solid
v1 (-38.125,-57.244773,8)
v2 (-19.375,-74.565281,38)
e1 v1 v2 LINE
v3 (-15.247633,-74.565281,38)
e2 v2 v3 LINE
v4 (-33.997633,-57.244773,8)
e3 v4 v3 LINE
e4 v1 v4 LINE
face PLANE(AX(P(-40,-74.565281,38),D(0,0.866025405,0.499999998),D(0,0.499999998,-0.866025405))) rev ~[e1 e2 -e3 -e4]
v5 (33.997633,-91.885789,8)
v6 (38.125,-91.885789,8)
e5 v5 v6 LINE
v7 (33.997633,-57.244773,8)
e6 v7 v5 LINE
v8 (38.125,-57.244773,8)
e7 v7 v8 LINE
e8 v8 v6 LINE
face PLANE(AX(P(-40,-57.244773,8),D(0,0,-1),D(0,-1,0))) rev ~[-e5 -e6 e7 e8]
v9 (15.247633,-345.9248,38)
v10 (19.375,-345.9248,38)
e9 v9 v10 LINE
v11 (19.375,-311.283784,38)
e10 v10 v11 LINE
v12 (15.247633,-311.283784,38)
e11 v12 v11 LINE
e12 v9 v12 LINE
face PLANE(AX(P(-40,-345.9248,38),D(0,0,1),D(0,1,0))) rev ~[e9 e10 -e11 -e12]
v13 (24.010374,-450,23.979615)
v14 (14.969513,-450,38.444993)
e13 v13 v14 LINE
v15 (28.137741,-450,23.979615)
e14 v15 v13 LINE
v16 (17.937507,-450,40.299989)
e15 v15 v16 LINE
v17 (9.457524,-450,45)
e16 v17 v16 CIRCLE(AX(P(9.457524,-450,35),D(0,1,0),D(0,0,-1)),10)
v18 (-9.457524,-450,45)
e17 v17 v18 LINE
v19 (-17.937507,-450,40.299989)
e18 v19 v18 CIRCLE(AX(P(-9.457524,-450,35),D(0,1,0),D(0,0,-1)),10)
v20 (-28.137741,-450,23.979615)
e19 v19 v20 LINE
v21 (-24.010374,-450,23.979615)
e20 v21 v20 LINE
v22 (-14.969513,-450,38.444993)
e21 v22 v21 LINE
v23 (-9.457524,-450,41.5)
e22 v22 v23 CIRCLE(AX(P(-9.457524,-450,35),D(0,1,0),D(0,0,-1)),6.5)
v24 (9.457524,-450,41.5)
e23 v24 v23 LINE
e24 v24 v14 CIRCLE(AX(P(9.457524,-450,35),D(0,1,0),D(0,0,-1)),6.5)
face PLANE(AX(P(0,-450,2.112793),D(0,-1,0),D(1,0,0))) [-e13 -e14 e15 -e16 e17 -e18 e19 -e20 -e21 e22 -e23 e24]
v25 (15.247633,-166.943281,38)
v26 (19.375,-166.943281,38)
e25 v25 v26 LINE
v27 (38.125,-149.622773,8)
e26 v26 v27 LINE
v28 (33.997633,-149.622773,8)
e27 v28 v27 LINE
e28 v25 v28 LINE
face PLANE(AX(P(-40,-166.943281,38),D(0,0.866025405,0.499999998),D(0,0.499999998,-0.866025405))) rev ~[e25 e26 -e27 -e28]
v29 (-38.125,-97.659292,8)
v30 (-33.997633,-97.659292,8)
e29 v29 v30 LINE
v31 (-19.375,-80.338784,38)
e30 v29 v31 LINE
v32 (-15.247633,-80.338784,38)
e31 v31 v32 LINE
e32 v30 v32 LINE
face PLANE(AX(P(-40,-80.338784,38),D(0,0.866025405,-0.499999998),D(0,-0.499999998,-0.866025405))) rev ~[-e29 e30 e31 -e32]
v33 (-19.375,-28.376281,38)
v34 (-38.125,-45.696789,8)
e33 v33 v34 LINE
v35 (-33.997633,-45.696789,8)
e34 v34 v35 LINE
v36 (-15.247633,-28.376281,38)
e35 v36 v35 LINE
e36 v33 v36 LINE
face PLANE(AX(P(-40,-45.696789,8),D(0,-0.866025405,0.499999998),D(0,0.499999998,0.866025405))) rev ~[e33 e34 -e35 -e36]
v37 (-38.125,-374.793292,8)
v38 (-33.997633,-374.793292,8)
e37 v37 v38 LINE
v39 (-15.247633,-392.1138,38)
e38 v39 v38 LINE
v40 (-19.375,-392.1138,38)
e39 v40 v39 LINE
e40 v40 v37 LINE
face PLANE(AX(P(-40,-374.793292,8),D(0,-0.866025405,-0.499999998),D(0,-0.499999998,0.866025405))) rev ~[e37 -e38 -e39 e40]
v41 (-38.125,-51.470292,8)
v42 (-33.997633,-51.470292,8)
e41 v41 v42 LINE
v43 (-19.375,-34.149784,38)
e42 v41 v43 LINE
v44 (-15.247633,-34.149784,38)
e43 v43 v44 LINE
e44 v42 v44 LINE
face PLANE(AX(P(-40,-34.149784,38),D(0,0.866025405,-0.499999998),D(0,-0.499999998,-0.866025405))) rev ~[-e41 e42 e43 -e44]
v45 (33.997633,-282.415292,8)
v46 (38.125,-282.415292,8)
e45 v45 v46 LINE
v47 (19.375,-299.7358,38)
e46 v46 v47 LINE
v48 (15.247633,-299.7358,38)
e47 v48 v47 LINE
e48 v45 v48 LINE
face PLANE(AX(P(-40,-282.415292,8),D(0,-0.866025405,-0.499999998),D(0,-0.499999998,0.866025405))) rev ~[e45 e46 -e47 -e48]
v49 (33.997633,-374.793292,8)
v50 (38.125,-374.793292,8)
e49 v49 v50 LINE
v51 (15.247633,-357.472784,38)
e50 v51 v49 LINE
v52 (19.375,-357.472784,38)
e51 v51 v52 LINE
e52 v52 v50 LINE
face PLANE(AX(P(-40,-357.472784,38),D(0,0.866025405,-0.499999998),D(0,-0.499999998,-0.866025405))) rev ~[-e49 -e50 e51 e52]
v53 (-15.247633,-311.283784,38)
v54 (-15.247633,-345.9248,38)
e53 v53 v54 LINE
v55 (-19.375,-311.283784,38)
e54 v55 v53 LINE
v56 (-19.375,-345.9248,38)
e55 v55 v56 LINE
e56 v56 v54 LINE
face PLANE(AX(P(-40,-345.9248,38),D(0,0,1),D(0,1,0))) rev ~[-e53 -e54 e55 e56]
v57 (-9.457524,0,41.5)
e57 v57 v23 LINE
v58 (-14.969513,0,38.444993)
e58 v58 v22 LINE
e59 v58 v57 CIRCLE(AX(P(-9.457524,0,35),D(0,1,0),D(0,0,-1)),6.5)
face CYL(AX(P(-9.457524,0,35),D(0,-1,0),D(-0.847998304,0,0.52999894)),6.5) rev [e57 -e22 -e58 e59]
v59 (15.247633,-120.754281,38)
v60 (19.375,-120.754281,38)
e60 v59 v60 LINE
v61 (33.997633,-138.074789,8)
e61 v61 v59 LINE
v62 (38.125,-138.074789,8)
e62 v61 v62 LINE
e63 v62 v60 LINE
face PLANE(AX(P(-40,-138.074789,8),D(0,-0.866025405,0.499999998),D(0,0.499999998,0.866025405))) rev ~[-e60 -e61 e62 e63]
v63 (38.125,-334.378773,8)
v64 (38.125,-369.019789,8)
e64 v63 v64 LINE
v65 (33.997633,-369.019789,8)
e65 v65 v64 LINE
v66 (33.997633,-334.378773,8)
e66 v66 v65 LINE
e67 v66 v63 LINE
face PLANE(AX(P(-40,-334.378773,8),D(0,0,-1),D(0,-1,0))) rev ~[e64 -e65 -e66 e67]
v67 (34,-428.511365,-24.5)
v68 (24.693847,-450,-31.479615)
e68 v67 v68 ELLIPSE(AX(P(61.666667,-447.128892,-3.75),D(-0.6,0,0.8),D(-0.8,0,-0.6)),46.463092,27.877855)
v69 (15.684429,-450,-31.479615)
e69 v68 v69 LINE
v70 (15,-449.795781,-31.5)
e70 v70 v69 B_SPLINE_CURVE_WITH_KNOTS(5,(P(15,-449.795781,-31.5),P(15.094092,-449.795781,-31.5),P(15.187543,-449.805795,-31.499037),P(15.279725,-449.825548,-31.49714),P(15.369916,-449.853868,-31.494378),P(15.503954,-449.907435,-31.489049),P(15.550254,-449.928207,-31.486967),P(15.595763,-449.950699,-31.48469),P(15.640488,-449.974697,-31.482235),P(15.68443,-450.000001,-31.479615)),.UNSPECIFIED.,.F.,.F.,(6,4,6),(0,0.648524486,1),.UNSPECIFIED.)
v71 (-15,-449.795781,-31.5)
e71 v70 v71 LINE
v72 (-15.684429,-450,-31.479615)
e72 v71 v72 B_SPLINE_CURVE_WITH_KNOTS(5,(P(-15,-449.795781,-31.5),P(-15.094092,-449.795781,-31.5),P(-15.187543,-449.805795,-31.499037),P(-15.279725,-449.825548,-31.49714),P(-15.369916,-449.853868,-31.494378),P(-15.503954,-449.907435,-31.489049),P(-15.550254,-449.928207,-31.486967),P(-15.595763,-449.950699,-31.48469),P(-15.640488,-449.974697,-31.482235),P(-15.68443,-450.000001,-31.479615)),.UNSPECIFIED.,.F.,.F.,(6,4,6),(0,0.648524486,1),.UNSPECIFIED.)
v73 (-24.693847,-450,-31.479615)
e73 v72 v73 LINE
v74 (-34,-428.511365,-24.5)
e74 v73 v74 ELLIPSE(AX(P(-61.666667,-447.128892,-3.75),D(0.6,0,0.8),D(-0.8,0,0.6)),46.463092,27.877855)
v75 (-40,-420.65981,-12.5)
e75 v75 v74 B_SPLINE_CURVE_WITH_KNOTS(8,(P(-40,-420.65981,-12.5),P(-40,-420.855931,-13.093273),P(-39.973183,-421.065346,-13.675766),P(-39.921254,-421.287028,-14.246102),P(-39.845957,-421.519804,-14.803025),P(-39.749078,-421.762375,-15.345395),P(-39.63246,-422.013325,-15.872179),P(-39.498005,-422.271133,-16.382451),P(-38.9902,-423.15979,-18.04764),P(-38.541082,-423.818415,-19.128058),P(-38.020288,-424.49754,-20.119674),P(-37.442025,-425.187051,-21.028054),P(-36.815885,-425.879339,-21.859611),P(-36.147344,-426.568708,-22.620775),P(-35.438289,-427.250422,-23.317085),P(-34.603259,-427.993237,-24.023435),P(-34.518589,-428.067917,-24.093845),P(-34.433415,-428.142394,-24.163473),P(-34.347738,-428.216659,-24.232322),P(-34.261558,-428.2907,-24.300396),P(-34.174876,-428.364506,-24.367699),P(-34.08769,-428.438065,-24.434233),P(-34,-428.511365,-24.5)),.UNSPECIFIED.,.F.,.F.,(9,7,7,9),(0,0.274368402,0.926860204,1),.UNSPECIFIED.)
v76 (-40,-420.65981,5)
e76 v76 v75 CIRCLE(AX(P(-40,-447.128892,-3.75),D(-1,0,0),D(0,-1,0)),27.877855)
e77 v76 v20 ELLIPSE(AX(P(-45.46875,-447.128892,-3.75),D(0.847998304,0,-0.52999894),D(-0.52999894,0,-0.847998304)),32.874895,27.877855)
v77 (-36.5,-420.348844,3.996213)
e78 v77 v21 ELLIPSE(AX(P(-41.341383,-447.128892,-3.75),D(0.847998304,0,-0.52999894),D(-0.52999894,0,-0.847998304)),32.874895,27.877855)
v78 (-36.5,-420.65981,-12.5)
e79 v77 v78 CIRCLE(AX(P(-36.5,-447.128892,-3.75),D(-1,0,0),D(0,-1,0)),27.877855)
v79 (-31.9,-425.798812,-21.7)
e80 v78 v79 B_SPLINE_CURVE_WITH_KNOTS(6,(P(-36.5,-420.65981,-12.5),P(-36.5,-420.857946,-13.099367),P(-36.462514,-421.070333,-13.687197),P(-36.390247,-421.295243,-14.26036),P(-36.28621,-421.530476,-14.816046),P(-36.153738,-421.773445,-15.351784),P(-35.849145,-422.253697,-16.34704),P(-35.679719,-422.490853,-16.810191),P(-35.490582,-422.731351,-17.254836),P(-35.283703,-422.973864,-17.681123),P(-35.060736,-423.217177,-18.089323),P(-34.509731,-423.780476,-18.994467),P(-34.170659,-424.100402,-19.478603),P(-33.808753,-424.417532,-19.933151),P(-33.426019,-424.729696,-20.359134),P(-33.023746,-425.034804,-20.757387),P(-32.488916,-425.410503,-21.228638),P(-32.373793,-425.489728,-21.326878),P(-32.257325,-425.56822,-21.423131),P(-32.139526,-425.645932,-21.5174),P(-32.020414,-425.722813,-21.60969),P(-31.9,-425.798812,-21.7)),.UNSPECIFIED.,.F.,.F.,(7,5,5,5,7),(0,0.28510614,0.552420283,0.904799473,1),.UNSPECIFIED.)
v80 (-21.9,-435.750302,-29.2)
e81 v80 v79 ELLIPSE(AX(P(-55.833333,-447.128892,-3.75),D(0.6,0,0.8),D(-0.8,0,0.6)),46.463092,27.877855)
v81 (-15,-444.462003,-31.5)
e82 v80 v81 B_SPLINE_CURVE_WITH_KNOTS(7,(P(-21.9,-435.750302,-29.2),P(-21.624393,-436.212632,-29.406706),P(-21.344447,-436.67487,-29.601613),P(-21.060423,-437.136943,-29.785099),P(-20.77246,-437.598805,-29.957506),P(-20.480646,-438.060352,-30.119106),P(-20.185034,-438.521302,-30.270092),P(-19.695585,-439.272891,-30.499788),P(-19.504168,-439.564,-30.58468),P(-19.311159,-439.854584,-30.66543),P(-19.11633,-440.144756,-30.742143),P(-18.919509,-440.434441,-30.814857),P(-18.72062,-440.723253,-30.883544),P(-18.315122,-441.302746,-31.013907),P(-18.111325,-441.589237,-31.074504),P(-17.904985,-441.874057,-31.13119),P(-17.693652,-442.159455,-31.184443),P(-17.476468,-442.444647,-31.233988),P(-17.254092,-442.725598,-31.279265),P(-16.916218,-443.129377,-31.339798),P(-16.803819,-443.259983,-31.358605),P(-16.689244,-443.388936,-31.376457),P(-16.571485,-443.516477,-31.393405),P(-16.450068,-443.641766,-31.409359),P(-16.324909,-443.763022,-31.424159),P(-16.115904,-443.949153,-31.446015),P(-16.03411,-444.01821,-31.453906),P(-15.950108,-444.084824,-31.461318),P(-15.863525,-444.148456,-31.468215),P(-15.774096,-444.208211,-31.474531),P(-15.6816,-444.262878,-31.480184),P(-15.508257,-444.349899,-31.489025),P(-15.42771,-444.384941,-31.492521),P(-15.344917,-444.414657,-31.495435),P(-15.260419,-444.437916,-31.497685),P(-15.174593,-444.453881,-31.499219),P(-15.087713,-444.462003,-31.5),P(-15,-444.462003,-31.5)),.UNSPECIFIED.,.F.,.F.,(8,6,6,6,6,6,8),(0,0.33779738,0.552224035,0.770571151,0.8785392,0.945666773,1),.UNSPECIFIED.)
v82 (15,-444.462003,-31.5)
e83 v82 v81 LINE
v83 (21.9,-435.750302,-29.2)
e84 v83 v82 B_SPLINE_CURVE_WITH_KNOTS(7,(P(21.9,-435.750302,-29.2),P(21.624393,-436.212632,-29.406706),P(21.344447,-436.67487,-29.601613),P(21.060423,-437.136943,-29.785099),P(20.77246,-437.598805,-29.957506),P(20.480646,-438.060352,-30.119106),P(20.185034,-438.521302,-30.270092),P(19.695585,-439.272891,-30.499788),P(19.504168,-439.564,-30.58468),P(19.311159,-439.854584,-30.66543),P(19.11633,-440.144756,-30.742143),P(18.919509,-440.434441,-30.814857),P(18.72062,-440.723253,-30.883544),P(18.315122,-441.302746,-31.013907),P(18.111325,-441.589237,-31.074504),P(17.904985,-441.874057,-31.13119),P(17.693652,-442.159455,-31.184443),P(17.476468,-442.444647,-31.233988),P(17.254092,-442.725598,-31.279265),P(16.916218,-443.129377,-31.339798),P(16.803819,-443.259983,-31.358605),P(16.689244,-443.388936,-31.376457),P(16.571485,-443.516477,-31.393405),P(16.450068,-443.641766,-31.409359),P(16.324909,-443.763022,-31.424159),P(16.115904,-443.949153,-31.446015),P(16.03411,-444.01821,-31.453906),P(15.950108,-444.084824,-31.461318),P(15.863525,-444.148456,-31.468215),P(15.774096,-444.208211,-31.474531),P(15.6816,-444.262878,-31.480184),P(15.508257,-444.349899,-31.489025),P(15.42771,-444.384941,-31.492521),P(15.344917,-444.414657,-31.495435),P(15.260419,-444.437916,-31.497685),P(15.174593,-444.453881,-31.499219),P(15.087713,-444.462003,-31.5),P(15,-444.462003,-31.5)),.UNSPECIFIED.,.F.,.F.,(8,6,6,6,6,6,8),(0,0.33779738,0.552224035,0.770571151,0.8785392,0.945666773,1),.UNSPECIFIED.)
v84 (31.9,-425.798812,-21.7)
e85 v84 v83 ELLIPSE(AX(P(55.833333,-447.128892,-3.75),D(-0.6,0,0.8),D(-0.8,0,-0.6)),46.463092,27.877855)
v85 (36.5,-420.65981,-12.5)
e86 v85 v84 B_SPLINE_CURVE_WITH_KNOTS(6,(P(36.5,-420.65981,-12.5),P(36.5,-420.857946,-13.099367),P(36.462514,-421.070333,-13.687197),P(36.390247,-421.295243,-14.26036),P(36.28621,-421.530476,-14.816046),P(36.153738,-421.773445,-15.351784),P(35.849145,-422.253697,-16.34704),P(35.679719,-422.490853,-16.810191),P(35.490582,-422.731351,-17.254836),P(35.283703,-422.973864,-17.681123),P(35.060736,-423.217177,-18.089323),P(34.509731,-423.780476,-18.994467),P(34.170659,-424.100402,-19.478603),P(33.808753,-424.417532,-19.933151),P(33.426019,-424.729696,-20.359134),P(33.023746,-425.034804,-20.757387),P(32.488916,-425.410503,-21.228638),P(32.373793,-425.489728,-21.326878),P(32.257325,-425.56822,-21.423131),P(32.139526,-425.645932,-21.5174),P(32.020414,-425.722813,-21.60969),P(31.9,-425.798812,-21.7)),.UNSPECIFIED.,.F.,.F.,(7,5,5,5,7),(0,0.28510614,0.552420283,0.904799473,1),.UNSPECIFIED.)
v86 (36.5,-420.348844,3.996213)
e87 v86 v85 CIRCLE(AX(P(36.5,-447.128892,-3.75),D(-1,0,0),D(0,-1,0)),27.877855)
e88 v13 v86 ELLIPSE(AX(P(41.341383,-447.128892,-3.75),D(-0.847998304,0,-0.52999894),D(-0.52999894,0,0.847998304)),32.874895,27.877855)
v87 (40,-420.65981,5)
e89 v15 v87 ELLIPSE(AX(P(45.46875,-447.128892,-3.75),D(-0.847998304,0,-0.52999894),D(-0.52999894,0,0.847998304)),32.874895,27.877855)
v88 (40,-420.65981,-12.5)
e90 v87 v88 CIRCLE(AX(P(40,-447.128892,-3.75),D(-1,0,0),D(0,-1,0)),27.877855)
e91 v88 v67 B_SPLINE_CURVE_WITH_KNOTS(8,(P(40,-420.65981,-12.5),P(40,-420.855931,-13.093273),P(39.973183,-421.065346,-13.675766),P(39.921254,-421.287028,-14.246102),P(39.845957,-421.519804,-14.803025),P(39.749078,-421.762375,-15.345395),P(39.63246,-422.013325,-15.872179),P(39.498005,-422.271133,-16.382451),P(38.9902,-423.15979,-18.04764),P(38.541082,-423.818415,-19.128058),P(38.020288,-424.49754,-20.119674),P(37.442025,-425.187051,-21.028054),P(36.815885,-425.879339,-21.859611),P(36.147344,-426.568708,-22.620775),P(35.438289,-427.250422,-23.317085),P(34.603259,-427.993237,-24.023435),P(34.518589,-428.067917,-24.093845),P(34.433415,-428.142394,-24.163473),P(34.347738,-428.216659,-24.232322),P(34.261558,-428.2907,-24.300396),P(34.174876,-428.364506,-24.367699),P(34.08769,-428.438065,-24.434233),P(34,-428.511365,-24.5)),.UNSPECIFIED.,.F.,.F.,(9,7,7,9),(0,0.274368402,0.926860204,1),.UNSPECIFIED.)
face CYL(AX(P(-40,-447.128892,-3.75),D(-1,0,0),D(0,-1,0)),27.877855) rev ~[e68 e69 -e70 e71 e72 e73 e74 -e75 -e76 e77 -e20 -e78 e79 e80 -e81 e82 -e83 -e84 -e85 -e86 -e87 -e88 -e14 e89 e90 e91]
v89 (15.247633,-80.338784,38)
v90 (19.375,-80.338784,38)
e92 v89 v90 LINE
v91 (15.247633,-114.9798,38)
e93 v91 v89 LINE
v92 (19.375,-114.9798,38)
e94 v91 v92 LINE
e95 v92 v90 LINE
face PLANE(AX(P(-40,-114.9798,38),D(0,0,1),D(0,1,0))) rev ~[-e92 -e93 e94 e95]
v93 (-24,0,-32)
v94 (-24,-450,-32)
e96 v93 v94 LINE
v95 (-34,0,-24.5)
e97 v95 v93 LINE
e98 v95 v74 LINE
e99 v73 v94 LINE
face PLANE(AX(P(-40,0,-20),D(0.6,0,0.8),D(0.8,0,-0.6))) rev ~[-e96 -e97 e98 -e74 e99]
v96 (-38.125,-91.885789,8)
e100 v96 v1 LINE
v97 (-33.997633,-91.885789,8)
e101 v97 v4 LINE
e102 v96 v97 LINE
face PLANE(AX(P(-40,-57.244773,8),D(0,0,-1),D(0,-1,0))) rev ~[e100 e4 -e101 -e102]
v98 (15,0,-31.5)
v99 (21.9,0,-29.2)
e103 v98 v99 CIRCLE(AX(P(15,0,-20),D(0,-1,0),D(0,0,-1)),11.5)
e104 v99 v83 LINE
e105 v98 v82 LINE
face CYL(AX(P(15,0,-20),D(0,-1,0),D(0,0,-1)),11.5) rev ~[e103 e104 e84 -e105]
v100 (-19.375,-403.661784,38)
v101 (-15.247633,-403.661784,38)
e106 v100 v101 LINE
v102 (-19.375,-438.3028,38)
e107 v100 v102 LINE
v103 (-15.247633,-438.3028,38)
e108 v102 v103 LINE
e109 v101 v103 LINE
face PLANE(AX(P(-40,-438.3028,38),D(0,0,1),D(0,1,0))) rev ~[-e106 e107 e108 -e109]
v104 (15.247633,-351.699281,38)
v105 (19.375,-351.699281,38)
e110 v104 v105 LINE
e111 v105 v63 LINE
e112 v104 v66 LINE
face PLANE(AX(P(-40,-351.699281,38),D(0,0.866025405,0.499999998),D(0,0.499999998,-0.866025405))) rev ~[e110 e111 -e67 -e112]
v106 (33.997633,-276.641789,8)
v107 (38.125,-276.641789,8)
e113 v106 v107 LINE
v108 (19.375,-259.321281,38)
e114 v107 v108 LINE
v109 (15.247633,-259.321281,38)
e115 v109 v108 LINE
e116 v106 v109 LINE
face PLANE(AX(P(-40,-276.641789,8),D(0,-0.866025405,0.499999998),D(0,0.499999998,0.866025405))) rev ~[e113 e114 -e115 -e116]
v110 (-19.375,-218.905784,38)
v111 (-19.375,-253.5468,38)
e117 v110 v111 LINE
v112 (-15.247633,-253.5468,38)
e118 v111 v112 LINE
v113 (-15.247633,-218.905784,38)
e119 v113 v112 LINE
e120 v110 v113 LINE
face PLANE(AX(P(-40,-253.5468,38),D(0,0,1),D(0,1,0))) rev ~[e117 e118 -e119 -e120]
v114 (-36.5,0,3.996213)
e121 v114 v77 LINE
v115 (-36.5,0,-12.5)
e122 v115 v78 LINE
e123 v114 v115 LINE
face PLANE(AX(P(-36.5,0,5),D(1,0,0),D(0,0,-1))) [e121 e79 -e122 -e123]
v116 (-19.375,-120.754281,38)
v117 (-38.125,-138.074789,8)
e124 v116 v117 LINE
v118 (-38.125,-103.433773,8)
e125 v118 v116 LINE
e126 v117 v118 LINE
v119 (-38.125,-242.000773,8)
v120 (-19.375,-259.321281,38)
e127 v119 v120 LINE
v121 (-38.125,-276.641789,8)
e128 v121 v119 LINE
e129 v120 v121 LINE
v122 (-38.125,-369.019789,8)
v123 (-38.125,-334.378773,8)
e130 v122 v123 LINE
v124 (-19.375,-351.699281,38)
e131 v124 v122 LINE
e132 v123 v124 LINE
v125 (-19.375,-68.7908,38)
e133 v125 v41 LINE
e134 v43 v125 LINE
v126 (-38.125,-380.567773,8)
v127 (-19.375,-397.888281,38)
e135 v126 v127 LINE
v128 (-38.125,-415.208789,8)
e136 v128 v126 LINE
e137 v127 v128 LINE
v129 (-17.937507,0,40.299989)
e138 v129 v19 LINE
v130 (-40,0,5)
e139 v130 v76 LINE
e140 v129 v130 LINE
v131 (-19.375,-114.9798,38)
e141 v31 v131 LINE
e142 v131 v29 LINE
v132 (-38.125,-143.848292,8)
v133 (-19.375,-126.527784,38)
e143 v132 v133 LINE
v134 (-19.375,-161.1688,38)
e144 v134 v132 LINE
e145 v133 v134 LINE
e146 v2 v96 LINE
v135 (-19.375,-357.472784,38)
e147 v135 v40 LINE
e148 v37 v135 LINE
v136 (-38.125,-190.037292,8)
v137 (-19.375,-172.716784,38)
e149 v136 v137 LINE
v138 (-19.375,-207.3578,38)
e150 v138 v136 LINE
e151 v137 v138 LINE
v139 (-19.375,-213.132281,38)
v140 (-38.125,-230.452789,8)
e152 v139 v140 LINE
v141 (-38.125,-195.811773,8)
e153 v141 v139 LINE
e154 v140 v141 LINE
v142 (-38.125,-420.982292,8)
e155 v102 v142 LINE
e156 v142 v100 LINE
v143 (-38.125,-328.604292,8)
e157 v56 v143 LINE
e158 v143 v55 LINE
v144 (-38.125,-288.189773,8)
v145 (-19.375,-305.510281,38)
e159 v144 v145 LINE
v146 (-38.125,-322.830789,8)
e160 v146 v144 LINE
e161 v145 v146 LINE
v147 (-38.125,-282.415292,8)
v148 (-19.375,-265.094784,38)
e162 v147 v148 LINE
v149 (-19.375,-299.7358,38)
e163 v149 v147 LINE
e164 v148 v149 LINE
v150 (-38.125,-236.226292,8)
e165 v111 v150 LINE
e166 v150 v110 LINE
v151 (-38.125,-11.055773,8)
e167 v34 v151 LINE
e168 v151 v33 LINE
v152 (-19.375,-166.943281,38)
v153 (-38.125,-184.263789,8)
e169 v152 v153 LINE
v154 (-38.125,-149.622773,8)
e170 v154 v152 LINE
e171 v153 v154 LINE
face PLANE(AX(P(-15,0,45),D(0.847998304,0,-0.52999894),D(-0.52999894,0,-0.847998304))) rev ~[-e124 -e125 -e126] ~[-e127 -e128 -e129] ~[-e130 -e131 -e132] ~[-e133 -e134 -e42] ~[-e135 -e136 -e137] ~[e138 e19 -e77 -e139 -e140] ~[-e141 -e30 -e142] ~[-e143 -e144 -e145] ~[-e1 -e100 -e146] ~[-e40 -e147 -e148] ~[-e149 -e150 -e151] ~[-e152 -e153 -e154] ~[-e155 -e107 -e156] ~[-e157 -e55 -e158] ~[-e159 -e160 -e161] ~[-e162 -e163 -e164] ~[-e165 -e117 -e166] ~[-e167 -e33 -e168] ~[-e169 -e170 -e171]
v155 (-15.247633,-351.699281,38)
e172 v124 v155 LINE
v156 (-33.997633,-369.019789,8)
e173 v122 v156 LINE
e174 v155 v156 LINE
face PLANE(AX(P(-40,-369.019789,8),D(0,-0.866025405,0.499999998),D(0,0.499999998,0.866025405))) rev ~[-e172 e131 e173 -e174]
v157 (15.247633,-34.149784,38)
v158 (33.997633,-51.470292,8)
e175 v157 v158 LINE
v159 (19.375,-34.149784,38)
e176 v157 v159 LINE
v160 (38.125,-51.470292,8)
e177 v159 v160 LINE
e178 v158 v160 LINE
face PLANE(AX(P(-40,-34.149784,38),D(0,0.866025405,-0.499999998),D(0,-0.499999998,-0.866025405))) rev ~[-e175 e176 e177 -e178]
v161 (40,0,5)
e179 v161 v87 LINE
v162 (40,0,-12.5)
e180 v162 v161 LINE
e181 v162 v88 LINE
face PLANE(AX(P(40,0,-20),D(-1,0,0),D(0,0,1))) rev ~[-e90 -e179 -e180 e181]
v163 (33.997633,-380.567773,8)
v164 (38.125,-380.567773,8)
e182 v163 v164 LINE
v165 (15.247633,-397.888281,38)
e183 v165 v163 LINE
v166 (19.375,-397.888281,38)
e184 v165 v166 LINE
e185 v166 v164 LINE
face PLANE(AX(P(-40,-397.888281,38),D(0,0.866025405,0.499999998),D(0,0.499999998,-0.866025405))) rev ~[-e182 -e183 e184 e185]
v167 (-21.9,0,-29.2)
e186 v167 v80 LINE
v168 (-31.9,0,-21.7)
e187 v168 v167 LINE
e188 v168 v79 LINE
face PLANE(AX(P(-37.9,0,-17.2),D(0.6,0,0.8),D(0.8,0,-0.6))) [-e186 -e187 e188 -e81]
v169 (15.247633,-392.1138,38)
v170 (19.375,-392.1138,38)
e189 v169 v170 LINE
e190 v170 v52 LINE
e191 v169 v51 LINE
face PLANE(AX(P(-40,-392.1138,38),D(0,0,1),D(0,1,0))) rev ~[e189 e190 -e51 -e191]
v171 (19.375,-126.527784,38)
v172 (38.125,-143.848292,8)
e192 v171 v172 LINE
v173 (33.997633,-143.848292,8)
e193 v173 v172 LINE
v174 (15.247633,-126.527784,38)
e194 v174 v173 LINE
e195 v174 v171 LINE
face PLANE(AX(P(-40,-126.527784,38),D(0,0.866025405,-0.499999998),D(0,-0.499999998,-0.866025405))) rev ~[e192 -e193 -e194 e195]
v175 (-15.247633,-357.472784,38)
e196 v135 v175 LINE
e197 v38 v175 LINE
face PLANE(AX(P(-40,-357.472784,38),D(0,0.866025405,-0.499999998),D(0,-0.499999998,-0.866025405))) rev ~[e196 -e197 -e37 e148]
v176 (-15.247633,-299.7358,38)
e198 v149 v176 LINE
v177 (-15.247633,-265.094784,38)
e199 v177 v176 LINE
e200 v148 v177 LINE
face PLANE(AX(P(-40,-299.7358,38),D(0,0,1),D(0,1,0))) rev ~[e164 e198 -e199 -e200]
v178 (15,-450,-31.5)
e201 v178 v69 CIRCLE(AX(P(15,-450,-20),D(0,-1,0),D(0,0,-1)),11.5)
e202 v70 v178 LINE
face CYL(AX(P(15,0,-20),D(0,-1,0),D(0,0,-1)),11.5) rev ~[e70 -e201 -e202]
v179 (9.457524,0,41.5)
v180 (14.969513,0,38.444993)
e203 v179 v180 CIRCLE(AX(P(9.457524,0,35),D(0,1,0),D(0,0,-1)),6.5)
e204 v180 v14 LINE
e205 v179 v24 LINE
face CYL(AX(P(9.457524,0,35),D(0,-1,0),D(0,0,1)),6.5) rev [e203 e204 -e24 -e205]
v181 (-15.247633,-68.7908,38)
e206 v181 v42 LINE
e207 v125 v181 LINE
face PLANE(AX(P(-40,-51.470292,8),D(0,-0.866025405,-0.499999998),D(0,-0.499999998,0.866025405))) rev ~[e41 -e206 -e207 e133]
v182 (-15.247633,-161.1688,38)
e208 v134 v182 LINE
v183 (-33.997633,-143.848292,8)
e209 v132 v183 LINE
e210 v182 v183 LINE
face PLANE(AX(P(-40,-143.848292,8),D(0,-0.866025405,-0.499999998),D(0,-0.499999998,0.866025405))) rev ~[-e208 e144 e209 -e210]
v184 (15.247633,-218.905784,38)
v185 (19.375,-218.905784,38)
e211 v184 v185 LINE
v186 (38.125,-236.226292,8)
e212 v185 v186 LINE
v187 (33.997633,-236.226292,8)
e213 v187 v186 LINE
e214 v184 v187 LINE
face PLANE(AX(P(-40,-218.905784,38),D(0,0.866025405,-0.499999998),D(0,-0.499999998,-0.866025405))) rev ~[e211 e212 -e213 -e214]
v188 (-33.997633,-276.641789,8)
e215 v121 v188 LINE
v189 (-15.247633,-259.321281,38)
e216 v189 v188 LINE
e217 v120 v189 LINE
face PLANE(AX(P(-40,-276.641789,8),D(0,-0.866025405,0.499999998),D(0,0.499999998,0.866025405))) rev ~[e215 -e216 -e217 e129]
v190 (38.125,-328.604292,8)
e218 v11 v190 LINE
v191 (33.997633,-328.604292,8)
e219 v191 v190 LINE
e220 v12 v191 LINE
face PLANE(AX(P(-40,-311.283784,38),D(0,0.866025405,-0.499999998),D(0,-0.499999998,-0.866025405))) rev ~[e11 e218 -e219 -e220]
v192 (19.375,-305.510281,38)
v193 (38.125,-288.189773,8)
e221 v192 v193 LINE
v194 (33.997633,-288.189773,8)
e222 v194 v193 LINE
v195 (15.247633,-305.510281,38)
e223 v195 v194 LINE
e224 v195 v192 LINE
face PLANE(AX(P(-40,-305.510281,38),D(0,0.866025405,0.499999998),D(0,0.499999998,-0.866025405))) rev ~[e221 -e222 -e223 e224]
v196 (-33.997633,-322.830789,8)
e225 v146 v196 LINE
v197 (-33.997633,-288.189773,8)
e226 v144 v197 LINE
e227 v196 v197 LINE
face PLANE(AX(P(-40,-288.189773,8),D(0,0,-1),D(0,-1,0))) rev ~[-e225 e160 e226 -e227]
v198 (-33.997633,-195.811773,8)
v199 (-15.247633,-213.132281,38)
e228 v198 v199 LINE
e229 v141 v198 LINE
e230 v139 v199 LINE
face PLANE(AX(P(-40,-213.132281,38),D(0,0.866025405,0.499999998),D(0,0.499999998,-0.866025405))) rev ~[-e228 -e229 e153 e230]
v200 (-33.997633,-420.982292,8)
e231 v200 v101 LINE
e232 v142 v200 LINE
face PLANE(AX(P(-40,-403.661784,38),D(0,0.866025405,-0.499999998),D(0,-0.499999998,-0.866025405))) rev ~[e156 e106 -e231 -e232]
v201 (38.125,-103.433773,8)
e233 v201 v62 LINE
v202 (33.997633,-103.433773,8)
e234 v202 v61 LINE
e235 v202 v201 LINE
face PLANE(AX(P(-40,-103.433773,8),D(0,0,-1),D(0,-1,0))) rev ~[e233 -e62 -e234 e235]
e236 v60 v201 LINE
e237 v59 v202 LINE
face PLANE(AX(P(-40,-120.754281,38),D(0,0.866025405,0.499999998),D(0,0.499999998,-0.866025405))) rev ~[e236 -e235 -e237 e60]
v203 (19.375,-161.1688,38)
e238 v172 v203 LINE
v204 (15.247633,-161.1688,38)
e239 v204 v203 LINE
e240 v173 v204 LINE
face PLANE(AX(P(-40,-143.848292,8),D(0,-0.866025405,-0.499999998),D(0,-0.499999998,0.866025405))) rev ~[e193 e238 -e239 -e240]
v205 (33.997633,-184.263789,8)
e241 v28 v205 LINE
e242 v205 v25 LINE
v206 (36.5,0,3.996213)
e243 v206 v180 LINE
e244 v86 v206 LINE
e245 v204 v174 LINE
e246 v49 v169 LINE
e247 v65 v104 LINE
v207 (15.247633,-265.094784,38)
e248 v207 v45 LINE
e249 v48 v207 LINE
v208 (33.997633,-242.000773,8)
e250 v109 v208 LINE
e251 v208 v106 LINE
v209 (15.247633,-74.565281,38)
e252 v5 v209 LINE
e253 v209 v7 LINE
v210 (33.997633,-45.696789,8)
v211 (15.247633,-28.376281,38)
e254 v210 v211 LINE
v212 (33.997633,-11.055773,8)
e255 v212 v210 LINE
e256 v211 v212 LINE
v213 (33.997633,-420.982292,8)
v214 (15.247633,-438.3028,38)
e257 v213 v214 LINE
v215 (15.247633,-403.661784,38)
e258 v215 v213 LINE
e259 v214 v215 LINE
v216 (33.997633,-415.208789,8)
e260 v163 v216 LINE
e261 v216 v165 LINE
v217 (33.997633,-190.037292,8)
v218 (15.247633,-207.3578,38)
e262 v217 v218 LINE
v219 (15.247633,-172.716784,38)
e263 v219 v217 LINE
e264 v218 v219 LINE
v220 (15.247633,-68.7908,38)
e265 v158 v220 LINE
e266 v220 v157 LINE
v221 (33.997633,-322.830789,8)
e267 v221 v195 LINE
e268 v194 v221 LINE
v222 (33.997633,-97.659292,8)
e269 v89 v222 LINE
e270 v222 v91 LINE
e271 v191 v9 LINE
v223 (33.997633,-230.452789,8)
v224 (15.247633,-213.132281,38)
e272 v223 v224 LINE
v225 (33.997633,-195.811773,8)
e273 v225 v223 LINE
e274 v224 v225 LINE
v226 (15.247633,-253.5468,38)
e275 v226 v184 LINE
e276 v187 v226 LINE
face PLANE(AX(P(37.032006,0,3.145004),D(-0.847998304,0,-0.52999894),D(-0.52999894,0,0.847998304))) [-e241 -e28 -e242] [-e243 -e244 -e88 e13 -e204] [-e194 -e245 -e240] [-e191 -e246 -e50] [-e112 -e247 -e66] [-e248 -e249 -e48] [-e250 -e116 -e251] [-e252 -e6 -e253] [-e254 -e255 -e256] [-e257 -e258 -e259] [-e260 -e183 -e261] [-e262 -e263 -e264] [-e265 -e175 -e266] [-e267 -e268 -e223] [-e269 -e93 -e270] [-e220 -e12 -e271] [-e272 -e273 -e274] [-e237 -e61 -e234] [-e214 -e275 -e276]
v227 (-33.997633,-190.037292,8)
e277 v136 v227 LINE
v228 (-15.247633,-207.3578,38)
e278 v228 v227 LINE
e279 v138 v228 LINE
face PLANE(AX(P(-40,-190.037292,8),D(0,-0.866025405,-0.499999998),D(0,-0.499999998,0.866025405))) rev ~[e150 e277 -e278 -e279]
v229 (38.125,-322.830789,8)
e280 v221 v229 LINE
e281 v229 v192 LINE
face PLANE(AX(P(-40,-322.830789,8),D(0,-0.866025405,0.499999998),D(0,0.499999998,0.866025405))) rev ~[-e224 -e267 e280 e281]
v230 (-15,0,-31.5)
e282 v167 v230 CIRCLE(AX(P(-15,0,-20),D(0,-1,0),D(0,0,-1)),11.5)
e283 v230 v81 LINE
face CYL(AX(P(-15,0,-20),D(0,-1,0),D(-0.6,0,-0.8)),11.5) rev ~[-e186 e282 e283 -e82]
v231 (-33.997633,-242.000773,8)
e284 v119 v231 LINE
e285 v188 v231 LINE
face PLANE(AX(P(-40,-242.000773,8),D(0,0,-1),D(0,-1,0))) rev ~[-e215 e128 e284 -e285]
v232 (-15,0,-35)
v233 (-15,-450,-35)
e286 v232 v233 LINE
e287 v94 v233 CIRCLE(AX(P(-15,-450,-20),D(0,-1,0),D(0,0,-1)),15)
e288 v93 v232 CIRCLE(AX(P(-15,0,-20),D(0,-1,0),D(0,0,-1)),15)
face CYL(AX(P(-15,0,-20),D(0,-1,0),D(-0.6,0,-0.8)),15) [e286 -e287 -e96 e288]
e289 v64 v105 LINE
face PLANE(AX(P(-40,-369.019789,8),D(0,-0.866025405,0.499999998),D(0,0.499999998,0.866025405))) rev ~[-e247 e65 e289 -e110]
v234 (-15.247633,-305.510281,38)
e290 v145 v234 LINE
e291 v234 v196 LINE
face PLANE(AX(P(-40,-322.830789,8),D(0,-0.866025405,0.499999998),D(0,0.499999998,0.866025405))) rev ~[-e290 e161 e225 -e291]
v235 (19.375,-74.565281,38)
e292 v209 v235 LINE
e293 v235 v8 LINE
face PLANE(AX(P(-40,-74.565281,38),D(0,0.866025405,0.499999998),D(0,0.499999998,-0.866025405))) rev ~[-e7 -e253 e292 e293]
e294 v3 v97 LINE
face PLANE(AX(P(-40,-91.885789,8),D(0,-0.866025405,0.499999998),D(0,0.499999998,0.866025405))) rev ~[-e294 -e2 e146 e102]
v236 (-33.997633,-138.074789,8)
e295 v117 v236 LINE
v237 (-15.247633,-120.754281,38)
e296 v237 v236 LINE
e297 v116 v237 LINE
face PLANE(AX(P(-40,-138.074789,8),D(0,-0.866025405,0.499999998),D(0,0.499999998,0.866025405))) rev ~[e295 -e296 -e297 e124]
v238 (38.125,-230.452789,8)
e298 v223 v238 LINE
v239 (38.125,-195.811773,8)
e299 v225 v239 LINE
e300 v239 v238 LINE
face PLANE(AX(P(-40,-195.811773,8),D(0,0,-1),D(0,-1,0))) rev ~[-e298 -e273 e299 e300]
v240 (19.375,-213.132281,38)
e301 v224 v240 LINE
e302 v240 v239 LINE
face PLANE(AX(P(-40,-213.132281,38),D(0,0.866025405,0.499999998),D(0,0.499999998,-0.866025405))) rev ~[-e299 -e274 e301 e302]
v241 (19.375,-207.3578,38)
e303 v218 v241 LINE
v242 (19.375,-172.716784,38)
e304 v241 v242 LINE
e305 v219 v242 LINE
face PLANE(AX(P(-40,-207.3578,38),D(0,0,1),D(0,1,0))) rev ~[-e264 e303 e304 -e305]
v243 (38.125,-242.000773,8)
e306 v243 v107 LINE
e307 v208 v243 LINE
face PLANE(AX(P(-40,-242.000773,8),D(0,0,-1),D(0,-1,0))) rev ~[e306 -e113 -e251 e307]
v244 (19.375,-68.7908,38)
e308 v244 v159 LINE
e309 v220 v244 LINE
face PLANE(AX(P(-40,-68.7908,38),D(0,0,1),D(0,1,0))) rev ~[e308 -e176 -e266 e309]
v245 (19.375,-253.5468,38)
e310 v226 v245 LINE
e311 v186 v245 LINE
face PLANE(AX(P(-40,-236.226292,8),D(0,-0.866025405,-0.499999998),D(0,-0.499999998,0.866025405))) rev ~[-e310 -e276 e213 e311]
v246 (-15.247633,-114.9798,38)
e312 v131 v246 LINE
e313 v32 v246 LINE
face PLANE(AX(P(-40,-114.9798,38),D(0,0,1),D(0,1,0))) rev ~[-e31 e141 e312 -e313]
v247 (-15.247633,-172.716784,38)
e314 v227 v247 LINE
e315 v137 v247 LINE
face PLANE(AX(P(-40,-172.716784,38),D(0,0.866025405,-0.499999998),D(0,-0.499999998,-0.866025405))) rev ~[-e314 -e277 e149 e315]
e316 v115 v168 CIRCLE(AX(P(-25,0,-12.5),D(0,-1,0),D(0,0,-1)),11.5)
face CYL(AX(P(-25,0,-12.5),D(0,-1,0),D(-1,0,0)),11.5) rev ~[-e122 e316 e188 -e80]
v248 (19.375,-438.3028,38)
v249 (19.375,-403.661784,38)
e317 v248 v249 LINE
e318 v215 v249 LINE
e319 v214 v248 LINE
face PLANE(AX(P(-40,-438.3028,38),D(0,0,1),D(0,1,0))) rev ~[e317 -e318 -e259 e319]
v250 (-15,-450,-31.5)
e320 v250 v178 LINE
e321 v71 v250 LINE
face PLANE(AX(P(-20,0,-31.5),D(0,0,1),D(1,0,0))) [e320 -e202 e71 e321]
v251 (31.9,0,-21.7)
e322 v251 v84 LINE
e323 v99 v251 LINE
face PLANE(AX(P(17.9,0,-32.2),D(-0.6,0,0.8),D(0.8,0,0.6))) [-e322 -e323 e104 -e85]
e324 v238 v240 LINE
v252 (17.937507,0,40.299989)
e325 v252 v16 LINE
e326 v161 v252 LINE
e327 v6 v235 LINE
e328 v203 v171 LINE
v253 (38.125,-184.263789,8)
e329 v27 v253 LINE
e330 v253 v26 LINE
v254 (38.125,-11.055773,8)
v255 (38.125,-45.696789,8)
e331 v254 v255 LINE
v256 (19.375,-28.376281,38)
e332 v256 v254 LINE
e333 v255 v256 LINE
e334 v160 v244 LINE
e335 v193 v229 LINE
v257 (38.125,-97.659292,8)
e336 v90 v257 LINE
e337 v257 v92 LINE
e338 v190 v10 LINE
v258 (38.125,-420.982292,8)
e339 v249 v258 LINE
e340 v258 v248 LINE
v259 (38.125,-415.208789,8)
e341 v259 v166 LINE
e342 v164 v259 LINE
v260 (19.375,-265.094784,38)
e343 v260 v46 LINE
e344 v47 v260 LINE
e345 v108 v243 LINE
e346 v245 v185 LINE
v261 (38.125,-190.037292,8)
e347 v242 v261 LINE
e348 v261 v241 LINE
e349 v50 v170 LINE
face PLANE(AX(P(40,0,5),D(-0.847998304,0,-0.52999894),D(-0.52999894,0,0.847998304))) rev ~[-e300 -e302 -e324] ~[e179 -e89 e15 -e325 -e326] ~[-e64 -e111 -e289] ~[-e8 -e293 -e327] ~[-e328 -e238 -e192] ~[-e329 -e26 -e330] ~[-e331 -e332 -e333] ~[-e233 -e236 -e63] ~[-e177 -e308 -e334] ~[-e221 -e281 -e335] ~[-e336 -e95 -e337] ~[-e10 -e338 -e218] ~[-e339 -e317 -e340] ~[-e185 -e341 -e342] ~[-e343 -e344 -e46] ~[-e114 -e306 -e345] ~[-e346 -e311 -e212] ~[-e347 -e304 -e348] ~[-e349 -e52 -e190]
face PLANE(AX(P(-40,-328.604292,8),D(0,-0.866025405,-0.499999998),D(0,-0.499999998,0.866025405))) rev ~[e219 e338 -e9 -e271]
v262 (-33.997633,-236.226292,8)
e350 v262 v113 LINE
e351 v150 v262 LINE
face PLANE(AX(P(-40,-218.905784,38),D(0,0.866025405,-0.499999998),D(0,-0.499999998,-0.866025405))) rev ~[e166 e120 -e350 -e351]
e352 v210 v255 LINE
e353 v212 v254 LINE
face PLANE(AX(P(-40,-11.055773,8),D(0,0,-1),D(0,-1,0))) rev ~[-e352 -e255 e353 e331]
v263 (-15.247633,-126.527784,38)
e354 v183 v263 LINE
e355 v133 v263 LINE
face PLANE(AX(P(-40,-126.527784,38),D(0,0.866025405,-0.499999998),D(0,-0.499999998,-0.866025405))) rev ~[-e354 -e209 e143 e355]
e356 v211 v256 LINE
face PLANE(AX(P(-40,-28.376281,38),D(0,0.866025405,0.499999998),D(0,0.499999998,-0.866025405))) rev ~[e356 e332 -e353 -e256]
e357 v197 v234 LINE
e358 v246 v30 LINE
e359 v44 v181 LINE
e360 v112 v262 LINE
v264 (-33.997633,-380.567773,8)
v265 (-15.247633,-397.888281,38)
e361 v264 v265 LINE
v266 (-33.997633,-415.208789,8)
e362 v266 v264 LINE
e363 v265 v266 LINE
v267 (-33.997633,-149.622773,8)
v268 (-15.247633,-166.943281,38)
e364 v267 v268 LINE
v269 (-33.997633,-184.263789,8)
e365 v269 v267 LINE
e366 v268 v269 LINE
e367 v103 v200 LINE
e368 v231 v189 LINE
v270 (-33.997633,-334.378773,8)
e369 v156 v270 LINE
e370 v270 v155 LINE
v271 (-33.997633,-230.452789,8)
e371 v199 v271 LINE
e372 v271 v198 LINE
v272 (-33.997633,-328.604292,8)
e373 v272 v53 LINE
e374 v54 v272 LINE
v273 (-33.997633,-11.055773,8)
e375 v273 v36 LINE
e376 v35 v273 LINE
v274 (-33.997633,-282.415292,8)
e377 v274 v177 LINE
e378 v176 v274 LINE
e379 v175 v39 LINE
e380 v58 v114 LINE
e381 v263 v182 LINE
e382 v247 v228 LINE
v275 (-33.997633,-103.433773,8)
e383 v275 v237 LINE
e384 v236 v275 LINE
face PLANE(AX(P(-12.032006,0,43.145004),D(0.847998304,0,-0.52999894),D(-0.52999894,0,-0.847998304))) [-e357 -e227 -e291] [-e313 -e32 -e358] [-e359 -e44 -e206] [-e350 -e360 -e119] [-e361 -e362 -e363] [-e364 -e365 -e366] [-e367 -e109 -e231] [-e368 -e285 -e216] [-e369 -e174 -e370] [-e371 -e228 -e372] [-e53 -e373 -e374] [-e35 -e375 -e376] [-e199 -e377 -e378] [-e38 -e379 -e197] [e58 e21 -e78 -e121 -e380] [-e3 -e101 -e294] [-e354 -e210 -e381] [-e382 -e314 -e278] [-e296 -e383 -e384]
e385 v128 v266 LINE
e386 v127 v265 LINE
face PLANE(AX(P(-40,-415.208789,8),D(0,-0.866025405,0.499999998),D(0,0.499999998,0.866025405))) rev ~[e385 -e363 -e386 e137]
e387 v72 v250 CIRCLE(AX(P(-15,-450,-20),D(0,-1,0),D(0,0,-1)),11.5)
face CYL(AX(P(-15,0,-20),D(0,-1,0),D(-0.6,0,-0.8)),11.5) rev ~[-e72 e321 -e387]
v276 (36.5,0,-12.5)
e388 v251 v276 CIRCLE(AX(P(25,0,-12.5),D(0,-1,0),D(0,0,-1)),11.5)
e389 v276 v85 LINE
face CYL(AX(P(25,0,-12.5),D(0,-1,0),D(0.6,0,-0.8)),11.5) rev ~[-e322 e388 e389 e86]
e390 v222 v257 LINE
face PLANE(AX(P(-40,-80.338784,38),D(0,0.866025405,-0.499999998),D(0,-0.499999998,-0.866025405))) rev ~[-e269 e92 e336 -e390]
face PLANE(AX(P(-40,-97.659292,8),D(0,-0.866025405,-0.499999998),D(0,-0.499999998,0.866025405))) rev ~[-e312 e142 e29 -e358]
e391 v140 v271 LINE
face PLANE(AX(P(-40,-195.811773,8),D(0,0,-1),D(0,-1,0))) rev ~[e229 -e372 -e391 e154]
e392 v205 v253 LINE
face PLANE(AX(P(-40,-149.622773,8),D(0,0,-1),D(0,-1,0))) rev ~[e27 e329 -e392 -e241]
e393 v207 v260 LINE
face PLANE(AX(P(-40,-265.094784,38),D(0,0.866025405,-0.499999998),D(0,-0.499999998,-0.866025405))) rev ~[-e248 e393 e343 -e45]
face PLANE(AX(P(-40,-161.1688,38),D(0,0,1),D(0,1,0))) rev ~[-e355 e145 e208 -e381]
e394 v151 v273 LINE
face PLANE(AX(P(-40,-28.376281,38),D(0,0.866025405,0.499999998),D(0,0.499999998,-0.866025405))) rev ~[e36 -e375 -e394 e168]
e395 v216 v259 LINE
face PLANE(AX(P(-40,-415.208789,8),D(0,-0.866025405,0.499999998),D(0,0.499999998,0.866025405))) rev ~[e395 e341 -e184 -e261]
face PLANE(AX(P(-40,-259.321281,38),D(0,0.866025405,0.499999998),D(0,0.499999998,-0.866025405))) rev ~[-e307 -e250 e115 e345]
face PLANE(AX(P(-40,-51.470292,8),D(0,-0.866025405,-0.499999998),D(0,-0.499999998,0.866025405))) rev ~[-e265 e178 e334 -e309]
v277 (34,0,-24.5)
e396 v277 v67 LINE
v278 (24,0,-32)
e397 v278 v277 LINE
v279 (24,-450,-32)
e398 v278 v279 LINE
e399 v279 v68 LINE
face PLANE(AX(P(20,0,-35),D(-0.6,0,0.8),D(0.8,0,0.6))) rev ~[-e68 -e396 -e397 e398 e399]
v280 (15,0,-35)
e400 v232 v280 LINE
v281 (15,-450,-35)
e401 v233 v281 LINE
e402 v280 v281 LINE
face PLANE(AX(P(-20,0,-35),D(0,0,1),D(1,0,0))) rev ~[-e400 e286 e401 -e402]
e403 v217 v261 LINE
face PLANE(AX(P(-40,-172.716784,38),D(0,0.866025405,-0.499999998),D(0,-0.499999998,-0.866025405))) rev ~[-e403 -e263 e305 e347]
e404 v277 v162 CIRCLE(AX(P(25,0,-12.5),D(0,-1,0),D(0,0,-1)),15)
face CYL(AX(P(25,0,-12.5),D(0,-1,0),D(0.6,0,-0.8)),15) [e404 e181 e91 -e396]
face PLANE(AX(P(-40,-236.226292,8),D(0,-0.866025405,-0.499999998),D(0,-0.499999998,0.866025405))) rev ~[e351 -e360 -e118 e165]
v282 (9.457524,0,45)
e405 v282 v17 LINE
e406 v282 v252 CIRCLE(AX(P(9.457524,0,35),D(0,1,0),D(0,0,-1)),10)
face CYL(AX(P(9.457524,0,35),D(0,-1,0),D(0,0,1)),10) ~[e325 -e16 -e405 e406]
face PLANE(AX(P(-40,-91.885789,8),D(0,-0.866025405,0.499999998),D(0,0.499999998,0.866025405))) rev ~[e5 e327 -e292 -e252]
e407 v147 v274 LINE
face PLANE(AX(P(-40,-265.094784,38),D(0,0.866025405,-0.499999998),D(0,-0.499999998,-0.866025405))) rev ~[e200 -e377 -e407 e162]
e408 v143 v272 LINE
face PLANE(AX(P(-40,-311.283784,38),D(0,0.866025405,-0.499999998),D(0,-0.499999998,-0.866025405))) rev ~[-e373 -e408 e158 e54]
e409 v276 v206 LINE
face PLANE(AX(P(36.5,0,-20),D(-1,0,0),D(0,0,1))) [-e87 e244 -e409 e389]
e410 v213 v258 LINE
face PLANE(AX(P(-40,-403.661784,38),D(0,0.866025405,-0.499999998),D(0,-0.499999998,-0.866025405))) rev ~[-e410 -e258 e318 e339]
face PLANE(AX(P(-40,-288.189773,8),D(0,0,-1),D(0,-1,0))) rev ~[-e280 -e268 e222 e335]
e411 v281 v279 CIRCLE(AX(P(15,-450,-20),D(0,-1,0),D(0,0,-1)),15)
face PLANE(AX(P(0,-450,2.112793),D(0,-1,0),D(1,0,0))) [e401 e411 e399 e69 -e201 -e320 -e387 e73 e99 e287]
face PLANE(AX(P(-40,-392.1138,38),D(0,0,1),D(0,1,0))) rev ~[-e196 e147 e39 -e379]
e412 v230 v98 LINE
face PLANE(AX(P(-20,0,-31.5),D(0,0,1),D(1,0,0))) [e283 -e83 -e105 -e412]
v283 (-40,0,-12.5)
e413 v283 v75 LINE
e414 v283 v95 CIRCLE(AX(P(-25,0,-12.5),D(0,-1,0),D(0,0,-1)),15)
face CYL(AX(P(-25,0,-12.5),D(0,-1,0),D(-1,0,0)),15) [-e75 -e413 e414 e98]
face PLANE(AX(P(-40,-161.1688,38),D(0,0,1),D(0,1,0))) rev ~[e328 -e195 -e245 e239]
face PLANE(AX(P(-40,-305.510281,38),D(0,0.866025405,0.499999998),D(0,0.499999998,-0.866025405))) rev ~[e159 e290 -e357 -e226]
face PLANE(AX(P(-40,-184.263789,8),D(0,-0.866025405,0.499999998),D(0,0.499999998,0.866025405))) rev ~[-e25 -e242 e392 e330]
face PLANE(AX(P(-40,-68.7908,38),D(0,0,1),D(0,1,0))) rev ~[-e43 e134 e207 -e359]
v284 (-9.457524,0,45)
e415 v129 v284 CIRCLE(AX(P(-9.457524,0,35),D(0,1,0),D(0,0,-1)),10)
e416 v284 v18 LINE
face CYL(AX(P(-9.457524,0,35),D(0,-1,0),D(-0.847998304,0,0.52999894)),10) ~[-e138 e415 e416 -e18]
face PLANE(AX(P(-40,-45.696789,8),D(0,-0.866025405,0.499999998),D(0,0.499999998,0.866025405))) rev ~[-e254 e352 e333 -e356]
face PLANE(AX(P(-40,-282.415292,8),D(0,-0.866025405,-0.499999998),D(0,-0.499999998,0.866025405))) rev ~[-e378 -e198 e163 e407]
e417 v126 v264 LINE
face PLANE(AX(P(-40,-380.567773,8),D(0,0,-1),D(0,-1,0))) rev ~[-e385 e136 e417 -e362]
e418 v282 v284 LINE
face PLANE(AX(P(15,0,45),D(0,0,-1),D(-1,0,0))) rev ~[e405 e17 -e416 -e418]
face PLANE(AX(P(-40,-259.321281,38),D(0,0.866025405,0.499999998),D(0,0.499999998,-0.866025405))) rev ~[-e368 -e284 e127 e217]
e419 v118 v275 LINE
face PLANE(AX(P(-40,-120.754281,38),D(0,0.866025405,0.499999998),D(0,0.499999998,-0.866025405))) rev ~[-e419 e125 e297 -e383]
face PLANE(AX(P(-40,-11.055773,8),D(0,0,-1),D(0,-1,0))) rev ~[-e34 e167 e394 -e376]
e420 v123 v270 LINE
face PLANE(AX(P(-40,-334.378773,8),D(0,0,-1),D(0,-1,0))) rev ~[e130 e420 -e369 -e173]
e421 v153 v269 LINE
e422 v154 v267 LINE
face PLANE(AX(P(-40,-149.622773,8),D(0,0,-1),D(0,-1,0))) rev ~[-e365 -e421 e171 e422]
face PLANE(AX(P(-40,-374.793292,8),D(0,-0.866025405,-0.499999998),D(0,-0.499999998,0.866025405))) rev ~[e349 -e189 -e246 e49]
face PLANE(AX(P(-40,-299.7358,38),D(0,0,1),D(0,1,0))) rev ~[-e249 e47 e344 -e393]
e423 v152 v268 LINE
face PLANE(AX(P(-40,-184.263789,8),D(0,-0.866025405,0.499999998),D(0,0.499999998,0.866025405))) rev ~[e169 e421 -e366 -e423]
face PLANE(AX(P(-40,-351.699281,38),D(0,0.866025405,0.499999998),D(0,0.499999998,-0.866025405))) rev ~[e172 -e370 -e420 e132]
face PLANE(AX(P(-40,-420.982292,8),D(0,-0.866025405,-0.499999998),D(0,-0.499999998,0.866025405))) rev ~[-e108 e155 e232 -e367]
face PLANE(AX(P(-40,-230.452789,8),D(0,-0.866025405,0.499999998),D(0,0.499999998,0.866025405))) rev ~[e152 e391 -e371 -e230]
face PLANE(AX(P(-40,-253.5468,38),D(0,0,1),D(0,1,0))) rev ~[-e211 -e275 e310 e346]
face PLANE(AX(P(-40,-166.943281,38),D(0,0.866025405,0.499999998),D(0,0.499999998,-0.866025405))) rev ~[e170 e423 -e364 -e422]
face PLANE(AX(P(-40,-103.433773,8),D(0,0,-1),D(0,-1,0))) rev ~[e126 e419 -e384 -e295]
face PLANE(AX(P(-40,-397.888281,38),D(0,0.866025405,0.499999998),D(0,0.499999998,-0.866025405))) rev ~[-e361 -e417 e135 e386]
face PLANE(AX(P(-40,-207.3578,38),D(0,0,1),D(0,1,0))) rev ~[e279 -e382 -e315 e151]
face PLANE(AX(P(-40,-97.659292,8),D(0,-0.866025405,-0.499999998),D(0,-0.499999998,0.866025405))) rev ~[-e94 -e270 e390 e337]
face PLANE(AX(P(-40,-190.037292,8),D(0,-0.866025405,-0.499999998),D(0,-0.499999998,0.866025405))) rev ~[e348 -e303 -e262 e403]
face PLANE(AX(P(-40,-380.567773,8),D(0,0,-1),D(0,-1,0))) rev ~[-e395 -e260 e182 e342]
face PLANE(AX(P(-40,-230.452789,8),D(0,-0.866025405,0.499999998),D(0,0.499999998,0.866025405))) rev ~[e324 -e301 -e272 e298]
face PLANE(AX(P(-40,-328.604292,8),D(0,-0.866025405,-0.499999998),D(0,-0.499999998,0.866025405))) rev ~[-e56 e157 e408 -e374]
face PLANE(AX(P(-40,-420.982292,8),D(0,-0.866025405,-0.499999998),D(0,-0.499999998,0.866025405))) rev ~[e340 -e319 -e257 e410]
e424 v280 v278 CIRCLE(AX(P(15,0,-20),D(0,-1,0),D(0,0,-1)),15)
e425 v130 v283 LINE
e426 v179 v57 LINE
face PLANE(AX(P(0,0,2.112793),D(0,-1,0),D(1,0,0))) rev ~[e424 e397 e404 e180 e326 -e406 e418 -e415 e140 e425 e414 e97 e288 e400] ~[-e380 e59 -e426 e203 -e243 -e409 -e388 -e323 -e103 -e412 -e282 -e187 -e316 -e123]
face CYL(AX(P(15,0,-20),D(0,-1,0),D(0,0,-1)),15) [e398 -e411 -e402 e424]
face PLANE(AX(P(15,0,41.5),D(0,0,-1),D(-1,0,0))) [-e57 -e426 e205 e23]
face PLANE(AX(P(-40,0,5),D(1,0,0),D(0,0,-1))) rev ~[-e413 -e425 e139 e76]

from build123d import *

# Parameters (mm, degrees)
F1_DEPTH = 450
F2_R     = 15
F3_R     = 10
F4_T     = -3.5
F6_DEPTH = 85
F7_R     = 27.877855
F8_DEPTH = 85


with BuildPart() as f1:
    # F0 (on Front) → F1 (new body)
    with BuildSketch(Plane.XZ):
        Polygon((-15, 45), (-40, 5), (-40, -20), (-20, -35), (20, -35), (40, -20), (40, 5), (15, 45), align=None)
    extrude(amount=F1_DEPTH)

    # F2
    f2_edges = [f1.edges().sort_by_distance(p)[0] for p in [
        (-20, -225, -35),
        (-40, -225, -20),
        (20, -225, -35),
        (40, -225, -20),
    ]]
    fillet(f2_edges, radius=F2_R)

    # F3
    f3_edges = [f1.edges().sort_by_distance(p)[0] for p in [
        (15, -225, 45),
        (-15, -225, 45),
    ]]
    fillet(f3_edges, radius=F3_R)

    # F4
    f4_openings = [f1.faces().sort_by_distance(p)[0] for p in [
        (0, -450, 1.855604),
        (0, 0, 1.855604),
    ]]
    offset(amount=F4_T, openings=f4_openings)

    # F5 (on face) → F6 (cut)
    with BuildSketch(Plane(origin=(-40, 0, 0), x_dir=(0, -1, 0), z_dir=(-1, 0, 0))):
        Polygon((415.208789, 8), (397.888281, 38), (380.567773, 8), align=None)
        Polygon((438.3028, 38), (403.661784, 38), (420.982292, 8), align=None)
        Polygon((369.019789, 8), (351.699281, 38), (334.378773, 8), align=None)
        Polygon((322.830789, 8), (305.510281, 38), (288.189773, 8), align=None)
        Polygon((392.1138, 38), (357.472784, 38), (374.793292, 8), align=None)
        Polygon((11.055773, 8), (45.696789, 8), (28.376281, 38), align=None)
        Polygon((51.470292, 8), (68.7908, 38), (34.149784, 38), align=None)
        Polygon((114.9798, 38), (80.338784, 38), (97.659292, 8), align=None)
        Polygon((91.885789, 8), (74.565281, 38), (57.244773, 8), align=None)
        Polygon((161.1688, 38), (126.527784, 38), (143.848292, 8), align=None)
        Polygon((138.074789, 8), (120.754281, 38), (103.433773, 8), align=None)
        Polygon((207.3578, 38), (172.716784, 38), (190.037292, 8), align=None)
        Polygon((184.263789, 8), (166.943281, 38), (149.622773, 8), align=None)
        Polygon((253.5468, 38), (218.905784, 38), (236.226292, 8), align=None)
        Polygon((230.452789, 8), (213.132281, 38), (195.811773, 8), align=None)
        Polygon((299.7358, 38), (265.094784, 38), (282.415292, 8), align=None)
        Polygon((276.641789, 8), (259.321281, 38), (242.000773, 8), align=None)
        Polygon((345.9248, 38), (311.283784, 38), (328.604292, 8), align=None)
    extrude(amount=-F6_DEPTH, mode=Mode.SUBTRACT)

    # F7 (on face) → F8 (cut)
    with BuildSketch(Plane(origin=(-40, 0, 0), x_dir=(0, -1, 0), z_dir=(-1, 0, 0))):
        with Locations((447.128892, -3.75)):
            Circle(F7_R)
    extrude(amount=-F8_DEPTH, mode=Mode.SUBTRACT)


solid = f1.part
